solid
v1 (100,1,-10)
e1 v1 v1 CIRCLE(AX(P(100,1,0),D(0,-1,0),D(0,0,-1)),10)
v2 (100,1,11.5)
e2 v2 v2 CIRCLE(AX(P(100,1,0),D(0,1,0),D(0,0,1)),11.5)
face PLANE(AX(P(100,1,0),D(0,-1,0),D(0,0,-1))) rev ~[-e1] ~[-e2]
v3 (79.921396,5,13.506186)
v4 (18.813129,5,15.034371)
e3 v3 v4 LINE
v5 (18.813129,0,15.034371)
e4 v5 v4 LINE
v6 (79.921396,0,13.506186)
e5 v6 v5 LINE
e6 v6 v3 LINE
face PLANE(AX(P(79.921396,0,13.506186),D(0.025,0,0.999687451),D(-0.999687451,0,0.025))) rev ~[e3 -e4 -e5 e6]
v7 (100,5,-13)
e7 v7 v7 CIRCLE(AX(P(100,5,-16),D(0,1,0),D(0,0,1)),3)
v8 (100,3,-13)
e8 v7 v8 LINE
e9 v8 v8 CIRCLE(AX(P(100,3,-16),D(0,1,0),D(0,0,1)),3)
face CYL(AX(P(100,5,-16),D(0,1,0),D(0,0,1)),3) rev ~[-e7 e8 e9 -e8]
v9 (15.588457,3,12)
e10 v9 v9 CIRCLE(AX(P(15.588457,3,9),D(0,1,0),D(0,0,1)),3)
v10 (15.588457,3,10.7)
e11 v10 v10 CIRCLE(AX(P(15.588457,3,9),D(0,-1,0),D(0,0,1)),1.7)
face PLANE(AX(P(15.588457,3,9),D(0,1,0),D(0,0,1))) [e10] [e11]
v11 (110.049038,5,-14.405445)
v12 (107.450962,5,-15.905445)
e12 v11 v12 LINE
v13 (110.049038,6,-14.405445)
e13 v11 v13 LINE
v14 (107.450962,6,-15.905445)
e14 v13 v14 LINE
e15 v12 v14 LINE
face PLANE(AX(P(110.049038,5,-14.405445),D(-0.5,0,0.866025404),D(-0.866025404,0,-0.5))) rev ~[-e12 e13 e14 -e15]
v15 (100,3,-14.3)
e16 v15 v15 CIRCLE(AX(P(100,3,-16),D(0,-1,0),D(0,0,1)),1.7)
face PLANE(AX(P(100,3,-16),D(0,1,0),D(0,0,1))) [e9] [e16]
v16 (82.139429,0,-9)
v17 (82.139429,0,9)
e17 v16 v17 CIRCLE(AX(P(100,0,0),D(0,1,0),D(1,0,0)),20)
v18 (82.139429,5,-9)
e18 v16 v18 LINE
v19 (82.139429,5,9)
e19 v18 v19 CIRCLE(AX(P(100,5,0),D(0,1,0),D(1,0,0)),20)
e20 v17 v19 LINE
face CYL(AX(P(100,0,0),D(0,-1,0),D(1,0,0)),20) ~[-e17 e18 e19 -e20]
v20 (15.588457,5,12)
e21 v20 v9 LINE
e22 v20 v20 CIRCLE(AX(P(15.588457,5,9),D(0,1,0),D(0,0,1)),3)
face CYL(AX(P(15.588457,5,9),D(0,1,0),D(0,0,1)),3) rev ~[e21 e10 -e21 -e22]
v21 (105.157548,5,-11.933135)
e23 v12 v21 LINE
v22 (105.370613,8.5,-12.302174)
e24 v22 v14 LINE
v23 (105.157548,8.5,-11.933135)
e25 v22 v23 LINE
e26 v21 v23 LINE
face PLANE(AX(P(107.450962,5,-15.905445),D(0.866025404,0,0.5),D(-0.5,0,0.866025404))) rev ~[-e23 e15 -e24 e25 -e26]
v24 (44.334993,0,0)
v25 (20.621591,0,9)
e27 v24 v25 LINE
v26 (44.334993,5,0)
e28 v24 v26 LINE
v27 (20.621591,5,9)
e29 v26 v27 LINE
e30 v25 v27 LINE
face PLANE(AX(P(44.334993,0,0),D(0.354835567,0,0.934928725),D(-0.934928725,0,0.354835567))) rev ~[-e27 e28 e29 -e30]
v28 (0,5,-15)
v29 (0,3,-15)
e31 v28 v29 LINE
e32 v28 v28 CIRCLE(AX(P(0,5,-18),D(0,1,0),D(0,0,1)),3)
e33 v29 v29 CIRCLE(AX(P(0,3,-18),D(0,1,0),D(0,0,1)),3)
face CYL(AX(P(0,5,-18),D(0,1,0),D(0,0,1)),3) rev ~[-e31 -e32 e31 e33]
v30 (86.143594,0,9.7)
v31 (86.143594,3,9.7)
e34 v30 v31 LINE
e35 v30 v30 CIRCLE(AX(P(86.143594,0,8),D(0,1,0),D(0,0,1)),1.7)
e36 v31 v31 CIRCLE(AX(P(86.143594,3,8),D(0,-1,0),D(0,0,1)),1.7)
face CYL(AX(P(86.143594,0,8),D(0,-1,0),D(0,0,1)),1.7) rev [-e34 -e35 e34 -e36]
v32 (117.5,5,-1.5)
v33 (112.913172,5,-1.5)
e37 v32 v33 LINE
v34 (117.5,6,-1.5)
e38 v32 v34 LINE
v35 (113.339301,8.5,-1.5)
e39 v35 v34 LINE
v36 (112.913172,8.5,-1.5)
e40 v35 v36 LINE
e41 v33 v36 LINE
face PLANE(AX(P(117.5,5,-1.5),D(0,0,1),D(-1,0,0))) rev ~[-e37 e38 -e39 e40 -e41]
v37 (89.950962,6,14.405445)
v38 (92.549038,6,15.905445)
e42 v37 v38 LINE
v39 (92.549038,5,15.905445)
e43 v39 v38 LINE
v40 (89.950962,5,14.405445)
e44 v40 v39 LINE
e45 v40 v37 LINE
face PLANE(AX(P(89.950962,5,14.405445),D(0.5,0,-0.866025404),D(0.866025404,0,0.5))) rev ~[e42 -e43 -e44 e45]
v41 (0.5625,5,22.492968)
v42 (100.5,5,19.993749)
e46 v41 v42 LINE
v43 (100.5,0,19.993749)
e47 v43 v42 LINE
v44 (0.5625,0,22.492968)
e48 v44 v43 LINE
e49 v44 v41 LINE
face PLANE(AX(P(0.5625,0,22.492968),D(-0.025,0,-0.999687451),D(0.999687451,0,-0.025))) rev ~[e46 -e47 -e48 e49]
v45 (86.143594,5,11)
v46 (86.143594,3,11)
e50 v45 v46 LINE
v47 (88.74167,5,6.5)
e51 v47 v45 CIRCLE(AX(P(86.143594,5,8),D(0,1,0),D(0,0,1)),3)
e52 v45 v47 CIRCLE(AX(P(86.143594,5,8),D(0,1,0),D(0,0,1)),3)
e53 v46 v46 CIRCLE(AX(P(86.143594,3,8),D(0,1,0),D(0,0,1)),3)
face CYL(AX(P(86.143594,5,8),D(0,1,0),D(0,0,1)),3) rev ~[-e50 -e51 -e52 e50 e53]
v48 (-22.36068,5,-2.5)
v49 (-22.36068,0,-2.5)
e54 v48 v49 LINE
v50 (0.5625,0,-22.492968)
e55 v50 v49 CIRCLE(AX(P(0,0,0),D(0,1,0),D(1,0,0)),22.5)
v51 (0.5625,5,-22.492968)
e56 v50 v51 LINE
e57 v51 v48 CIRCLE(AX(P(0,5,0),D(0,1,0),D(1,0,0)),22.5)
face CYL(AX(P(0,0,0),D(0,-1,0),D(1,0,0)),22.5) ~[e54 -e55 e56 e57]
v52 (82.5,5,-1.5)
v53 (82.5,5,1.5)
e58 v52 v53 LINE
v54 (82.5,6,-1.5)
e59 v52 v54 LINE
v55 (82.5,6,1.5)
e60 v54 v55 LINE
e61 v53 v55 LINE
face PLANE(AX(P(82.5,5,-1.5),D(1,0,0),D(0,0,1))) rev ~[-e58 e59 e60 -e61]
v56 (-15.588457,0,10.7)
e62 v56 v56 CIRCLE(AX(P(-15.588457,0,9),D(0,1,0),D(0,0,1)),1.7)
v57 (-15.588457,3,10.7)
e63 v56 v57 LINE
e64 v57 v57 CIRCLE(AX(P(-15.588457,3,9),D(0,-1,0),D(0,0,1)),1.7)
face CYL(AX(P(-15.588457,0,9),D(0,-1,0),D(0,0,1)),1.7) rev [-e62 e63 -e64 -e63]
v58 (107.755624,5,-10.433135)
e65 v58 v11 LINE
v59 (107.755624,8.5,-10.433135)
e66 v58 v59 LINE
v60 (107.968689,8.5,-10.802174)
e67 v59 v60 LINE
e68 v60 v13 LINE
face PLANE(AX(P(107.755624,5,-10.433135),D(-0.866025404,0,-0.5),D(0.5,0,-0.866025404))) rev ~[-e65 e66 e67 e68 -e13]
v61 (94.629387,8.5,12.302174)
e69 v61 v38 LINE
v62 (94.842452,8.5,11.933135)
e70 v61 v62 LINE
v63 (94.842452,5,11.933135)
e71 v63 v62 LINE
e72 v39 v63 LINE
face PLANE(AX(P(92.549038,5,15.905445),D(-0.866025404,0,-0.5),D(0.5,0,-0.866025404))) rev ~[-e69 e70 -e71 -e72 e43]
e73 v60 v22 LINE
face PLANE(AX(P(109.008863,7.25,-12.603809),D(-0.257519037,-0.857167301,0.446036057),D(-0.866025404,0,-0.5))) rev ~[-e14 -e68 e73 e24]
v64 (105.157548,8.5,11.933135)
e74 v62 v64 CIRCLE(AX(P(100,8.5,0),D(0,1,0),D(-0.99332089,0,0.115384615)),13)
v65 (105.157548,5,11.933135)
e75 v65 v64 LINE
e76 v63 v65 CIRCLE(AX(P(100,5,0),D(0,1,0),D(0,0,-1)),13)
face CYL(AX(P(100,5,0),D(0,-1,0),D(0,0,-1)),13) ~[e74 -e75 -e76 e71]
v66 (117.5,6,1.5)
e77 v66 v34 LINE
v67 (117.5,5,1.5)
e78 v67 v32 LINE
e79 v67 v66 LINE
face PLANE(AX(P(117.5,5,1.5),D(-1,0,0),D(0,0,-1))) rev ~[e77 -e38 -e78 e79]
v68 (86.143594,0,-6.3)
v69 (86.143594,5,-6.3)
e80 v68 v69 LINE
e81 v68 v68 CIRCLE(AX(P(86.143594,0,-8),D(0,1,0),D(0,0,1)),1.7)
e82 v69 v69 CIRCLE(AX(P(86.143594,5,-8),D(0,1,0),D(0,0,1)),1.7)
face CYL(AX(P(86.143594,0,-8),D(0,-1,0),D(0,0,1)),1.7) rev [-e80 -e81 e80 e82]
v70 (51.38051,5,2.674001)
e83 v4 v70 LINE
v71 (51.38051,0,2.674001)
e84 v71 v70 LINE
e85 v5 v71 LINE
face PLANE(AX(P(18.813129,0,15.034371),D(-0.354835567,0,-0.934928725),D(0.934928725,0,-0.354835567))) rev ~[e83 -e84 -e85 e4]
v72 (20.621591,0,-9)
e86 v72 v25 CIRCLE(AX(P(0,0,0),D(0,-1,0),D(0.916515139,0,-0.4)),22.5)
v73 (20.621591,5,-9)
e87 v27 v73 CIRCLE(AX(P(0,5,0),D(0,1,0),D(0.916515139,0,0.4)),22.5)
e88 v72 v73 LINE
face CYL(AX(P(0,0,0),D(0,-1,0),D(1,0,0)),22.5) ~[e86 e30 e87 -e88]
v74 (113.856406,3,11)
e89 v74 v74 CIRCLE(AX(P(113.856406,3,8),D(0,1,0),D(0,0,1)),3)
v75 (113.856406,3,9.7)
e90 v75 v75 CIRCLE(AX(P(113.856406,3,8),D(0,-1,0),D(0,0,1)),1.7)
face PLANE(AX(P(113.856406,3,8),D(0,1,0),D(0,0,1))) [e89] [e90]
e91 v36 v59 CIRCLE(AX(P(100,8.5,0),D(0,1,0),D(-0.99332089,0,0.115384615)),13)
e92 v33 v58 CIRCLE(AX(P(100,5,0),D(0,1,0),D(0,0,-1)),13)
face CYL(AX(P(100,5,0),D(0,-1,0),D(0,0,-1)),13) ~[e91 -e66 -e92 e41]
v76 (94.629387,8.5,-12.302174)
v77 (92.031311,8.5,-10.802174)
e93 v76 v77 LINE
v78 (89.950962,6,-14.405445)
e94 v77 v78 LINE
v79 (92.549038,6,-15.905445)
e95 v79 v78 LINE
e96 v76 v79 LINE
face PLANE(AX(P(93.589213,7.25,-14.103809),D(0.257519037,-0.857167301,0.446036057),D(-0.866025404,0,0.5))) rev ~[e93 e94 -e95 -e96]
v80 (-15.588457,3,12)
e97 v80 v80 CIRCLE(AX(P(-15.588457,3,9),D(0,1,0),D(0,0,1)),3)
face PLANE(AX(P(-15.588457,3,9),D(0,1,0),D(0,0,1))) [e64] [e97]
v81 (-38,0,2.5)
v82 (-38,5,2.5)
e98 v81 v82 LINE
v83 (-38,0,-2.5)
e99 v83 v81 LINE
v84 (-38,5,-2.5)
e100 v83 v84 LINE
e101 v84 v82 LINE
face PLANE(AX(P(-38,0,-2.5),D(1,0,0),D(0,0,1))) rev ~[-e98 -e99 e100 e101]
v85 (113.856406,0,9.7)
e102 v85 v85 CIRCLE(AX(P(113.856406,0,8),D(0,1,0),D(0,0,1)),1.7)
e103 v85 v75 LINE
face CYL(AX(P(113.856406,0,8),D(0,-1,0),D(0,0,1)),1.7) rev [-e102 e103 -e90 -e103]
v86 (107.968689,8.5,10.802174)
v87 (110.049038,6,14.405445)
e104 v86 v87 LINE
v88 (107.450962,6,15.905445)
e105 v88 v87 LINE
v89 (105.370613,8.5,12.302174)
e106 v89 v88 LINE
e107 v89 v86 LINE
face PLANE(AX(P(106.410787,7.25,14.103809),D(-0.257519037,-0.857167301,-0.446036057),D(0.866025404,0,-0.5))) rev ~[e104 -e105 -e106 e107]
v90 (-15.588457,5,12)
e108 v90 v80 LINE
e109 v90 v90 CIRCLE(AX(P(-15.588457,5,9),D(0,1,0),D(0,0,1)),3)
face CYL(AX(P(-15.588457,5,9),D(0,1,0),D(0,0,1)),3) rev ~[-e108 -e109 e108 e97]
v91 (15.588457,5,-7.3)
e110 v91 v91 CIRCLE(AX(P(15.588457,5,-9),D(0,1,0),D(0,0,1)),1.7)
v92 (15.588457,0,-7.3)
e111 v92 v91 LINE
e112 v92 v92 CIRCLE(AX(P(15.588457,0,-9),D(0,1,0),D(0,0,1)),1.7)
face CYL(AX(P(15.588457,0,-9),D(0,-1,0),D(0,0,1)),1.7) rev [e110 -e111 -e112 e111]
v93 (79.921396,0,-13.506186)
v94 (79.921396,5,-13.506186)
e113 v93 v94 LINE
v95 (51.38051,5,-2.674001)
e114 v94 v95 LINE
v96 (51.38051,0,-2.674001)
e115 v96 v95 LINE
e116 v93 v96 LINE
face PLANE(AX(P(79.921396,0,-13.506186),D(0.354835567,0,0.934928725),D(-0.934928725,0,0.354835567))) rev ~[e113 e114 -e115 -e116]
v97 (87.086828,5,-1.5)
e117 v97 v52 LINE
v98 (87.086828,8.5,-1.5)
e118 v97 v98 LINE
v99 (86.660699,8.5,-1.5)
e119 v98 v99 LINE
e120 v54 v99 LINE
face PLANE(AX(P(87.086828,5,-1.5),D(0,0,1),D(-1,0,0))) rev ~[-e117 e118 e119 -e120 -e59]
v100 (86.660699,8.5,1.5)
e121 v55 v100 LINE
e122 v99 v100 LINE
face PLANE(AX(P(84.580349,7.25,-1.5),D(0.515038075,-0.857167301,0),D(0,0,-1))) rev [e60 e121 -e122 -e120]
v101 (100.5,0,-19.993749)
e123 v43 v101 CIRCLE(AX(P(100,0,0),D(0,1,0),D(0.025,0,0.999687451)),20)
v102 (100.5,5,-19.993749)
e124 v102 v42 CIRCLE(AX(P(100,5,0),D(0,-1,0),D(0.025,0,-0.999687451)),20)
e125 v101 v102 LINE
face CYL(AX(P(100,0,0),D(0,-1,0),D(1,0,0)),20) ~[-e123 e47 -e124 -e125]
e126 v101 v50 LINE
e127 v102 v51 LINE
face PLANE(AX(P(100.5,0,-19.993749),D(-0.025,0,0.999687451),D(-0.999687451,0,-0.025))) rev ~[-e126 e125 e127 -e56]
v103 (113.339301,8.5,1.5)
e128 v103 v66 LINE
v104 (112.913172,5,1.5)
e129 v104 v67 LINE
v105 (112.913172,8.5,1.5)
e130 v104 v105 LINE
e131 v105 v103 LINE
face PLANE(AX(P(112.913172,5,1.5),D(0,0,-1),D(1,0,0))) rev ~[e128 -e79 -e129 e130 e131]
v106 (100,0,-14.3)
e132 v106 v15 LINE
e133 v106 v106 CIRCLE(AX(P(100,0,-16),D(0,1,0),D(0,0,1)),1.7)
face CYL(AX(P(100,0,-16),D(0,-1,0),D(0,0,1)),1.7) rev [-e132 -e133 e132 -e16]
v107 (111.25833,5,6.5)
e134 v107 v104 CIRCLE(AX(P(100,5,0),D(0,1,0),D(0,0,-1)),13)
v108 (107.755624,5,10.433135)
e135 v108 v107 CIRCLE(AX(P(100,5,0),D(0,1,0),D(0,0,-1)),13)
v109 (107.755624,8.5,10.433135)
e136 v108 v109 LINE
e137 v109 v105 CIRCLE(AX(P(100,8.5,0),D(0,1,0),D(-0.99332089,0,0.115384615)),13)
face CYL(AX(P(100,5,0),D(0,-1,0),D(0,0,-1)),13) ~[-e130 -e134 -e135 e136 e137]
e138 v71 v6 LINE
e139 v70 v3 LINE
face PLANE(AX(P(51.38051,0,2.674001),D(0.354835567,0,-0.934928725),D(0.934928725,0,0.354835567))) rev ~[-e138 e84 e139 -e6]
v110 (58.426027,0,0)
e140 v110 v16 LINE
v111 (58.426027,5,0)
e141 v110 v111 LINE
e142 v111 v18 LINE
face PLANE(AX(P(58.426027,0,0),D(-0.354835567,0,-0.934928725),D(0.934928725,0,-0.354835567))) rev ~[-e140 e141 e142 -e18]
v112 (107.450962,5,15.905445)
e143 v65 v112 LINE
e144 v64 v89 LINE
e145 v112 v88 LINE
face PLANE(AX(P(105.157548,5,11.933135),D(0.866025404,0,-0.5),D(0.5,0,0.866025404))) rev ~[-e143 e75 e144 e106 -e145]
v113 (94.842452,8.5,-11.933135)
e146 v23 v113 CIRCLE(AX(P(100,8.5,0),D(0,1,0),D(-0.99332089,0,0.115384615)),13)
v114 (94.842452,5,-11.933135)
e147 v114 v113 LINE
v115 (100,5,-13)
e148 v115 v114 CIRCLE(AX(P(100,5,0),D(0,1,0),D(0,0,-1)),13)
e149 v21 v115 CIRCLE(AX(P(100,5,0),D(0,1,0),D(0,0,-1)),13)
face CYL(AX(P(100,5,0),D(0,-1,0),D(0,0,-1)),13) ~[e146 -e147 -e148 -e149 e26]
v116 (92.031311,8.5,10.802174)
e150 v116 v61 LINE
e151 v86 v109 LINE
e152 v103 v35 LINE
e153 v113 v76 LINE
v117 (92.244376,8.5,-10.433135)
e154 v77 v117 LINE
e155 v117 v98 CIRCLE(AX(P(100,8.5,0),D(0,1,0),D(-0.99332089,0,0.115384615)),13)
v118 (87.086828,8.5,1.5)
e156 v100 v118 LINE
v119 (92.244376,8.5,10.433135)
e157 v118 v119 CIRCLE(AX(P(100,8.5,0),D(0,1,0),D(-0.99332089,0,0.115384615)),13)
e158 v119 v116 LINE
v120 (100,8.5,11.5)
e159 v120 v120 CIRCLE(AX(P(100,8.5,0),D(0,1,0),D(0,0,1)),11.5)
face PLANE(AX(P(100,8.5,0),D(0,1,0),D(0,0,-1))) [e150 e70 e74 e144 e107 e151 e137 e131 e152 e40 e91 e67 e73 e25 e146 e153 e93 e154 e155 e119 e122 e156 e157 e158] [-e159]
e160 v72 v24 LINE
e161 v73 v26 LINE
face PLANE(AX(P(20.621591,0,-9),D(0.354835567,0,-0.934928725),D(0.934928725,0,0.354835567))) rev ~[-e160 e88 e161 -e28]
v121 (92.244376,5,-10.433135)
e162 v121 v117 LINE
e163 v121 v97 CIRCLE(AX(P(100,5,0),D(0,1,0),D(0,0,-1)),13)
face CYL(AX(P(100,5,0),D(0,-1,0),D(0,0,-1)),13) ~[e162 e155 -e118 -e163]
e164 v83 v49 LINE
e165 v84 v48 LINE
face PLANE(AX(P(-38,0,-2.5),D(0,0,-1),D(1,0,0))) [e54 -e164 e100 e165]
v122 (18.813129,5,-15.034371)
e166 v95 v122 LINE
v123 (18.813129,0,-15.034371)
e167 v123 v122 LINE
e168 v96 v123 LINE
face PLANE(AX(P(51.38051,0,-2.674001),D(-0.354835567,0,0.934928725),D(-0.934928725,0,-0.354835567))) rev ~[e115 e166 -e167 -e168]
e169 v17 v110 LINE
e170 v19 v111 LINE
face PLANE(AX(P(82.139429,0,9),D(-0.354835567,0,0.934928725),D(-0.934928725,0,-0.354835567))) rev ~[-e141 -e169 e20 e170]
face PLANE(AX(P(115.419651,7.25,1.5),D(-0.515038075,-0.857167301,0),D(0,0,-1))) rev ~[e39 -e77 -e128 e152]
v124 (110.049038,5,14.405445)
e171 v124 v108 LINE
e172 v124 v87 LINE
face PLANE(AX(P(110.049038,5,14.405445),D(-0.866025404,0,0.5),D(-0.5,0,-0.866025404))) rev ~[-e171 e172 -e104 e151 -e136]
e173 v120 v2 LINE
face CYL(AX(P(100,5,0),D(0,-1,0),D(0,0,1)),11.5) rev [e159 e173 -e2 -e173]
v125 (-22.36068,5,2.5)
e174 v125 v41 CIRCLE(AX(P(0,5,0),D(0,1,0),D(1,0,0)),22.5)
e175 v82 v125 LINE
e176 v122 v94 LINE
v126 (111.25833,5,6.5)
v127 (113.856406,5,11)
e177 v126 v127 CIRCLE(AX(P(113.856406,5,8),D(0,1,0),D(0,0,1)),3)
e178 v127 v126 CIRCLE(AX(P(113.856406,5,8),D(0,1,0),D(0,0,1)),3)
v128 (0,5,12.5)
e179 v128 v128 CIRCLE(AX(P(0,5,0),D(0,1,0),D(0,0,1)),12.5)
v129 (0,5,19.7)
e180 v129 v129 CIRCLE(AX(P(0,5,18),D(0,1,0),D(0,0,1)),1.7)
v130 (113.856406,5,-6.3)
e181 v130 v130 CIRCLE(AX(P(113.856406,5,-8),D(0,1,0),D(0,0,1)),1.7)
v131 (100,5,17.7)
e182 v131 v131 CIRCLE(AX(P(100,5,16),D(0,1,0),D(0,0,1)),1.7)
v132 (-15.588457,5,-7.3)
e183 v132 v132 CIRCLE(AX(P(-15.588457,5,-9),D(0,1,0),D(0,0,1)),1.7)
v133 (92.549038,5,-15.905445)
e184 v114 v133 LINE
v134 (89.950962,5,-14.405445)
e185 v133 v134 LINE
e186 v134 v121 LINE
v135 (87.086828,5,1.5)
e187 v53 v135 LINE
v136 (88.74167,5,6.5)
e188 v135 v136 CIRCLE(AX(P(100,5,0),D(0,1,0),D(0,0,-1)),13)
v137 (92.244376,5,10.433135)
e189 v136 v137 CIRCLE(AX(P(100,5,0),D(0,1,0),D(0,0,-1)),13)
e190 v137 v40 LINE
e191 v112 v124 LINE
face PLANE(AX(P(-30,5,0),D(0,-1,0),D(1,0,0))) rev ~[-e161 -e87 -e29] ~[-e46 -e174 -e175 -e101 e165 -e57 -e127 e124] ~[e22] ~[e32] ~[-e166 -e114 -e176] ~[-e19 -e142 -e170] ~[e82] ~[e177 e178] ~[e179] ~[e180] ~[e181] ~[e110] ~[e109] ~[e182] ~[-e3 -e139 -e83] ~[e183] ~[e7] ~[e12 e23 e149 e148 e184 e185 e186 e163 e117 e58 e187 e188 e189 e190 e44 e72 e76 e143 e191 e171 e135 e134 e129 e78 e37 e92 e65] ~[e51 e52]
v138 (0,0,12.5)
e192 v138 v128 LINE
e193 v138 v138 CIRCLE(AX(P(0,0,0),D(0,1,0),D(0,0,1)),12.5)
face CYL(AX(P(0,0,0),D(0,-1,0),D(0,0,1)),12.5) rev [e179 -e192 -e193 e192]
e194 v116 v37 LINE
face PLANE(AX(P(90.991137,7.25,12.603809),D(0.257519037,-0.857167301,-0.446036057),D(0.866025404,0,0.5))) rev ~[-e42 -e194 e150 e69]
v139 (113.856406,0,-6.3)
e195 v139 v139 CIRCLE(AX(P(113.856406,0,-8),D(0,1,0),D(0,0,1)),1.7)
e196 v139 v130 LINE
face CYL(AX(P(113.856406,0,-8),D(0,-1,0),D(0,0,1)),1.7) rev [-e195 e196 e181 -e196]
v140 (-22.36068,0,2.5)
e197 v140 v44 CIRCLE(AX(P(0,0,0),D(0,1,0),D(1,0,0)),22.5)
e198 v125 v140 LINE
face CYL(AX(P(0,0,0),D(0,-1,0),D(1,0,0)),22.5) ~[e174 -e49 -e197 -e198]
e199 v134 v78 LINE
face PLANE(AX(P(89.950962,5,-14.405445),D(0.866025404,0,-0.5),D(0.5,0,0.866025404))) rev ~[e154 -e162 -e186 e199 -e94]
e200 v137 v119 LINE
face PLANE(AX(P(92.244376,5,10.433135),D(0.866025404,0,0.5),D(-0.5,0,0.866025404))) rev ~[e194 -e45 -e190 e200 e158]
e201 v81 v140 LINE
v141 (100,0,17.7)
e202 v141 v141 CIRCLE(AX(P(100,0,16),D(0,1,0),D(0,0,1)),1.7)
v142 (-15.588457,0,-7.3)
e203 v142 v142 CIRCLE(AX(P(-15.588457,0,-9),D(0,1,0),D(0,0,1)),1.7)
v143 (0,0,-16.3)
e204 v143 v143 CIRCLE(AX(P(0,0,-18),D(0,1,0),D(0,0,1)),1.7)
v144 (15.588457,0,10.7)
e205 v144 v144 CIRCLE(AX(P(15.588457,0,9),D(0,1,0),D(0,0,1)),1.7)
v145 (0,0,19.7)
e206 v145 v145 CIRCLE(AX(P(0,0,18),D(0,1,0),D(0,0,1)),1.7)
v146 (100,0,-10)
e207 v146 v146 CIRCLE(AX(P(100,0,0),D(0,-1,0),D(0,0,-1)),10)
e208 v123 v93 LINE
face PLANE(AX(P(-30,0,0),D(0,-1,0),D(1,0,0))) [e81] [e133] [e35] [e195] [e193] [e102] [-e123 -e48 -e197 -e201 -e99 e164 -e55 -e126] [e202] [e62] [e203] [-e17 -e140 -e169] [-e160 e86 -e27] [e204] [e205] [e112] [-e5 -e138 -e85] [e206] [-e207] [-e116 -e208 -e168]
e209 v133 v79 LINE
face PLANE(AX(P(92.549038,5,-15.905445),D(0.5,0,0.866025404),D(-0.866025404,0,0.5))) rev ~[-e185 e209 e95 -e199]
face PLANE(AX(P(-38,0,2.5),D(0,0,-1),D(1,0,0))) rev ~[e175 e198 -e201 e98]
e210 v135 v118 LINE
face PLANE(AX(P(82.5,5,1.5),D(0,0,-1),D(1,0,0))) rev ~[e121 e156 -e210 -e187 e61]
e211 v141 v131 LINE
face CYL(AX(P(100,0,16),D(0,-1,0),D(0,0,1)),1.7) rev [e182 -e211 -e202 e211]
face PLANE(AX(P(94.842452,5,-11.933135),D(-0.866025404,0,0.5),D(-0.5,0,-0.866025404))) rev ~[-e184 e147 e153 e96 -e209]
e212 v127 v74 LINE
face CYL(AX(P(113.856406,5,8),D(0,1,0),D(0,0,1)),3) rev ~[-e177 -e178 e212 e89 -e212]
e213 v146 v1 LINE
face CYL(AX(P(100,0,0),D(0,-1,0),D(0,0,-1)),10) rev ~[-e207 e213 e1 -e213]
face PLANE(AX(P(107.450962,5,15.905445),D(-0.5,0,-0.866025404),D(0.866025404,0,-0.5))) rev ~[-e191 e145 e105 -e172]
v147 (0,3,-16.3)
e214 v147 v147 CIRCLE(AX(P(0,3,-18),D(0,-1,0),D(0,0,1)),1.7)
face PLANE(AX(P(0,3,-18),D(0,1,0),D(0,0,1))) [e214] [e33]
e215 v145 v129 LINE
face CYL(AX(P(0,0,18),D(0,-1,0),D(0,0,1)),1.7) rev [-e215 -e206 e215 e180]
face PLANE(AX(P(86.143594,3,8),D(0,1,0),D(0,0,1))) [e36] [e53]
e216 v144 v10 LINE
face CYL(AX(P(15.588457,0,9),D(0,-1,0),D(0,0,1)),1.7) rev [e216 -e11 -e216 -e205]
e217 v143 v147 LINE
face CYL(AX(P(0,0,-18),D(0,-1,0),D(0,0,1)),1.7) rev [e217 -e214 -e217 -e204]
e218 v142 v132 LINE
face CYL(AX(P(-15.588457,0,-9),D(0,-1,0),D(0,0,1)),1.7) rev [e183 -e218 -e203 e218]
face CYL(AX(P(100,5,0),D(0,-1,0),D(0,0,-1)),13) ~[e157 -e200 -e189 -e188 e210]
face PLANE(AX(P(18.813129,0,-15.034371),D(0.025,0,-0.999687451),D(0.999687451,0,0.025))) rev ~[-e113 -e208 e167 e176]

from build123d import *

# Parameters (mm, degrees)
SKETCH1_R                     = 22.5
SKETCH1_R_2                   = 12.5
SKETCH1_R_3                   = 1.7
SKETCH1_R_4                   = 20
SKETCH1_R_5                   = 11.5
BOSS_EXTRUDE1_DEPTH           = 5
SKETCH2_R                     = 3
CUT_EXTRUDE1_DEPTH            = 2
SKETCH3_R                     = 13
SKETCH3_R_2                   = 11.5
BOSS_EXTRUDE2_DEPTH           = 3.5
SKETCH4_R                     = 11.5
SKETCH4_R_2                   = 10
BOSS_EXTRUDE3_DEPTH           = 1
BOSS_EXTRUDE4_DEPTH           = 3.5
CHAMFER1_SIZE                 = 2.5
CHAMFER1_SIZE2                = 4.160698706
CIRPATTERN1_COUNT             = 6
CHAMFER1_OF_CIRPATTERN1_SIZE2 = 2.5
CHAMFER1_OF_CIRPATTERN1_SIZE  = 4.160698706
SKETCH7_W                     = 16
SKETCH7_H                     = 5
BOSS_EXTRUDE5_DEPTH           = 5


with BuildPart() as part:
    # Sketch1 → Boss-Extrude1 (new body)
    # profile 1 of 9: a face of its own
    with BuildSketch(Plane(origin=(0, 0, 0), x_dir=(1, 0, 0), z_dir=(0, 1, 0))):
        Circle(SKETCH1_R)
        with Locations(Location((0, 0, 0), (0, 0, 270))):
            Circle(SKETCH1_R_2, mode=Mode.SUBTRACT)
        with Locations(Location((-15.588457268, 9, 0), (0, 0, 270))):
            Circle(SKETCH1_R_3, mode=Mode.SUBTRACT)
        with Locations(Location((-15.588457268, -9, 0), (0, 0, 270))):
            Circle(SKETCH1_R_3, mode=Mode.SUBTRACT)
        with Locations(Location((0, -18, 0), (0, 0, 270))):
            Circle(SKETCH1_R_3, mode=Mode.SUBTRACT)
        with Locations(Location((15.588457268, -9, 0), (0, 0, 270))):
            Circle(SKETCH1_R_3, mode=Mode.SUBTRACT)
        with Locations(Location((15.588457268, 9, 0), (0, 0, 270))):
            Circle(SKETCH1_R_3, mode=Mode.SUBTRACT)
        with Locations(Location((0, 18, 0), (0, 0, 270))):
            Circle(SKETCH1_R_3, mode=Mode.SUBTRACT)
    # profile 2 of 9: a face of its own
    with BuildSketch(Plane(origin=(0, 0, 0), x_dir=(1, 0, 0), z_dir=(0, 1, 0))):
        with BuildLine():
            Line((100.5, 19.993749023), (0.5625, 22.492967651))
            ThreePointArc((0.5625, 22.492967651), (9.388247907, 20.447757854), (16.691908913, 15.087417832))
            Line((16.691908913, 15.087417832), (18.813128873, 15.034370753))
            Line((18.813128873, 15.034370753), (79.921396282, 13.506186436))
            Line((79.921396282, 13.506186436), (85.131066178, 13.375903969))
            ThreePointArc((85.131066178, 13.375903969), (92.090162259, 18.3693894), (100.5, 19.993749023))
        make_face()
    # profile 3 of 9: a face of its own
    with BuildSketch(Plane(origin=(0, 0, 0), x_dir=(1, 0, 0), z_dir=(0, 1, 0))):
        with BuildLine():
            Line((18.813128873, 15.034370753), (16.691908913, 15.087417832))
            ThreePointArc((16.691908913, 15.087417832), (18.903398529, 12.202930961), (20.621590627, 9))
            Line((20.621590627, 9), (44.334992825, 0))
            Line((44.334992825, 0), (51.380509764, 2.674000631))
            Line((51.380509764, 2.674000631), (18.813128873, 15.034370753))
        make_face()
    # profile 4 of 9: a face of its own
    with BuildSketch(Plane(origin=(0, 0, 0), x_dir=(1, 0, 0), z_dir=(0, 1, 0))):
        Polygon((58.426026703, 0), (51.380509764, 2.674000631), (44.334992825, 0), (51.380509764, -2.674000631), align=None)
    # profile 5 of 9: a face of its own
    with BuildSketch(Plane(origin=(0, 0, 0), x_dir=(1, 0, 0), z_dir=(0, 1, 0))):
        with BuildLine():
            ThreePointArc((82.139428901, 9), (83.489631833, 11.287503843), (85.131066178, 13.375903969))
            Line((85.131066178, 13.375903969), (79.921396282, 13.506186436))
            Line((79.921396282, 13.506186436), (51.380509764, 2.674000631))
            Line((51.380509764, 2.674000631), (58.426026703, 0))
            Line((58.426026703, 0), (82.139428901, 9))
        make_face()
    # profile 6 of 9: a face of its own
    with BuildSketch(Plane(origin=(0, 0, 0), x_dir=(1, 0, 0), z_dir=(0, 1, 0))):
        with BuildLine():
            Line((79.921396282, -13.506186436), (85.131066178, -13.375903969))
            ThreePointArc((85.131066178, -13.375903969), (83.489631833, -11.287503843), (82.139428901, -9))
            Line((82.139428901, -9), (58.426026703, 0))
            Line((58.426026703, 0), (51.380509764, -2.674000631))
            Line((51.380509764, -2.674000631), (79.921396282, -13.506186436))
        make_face()
    # profile 7 of 9: a face of its own
    with BuildSketch(Plane(origin=(0, 0, 0), x_dir=(1, 0, 0), z_dir=(0, 1, 0))):
        with BuildLine():
            ThreePointArc((20.621590627, -9), (18.903398529, -12.202930961), (16.691908913, -15.087417832))
            Line((16.691908913, -15.087417832), (18.813128873, -15.034370753))
            Line((18.813128873, -15.034370753), (51.380509764, -2.674000631))
            Line((51.380509764, -2.674000631), (44.334992825, 0))
            Line((44.334992825, 0), (20.621590627, -9))
        make_face()
    # profile 8 of 9: a face of its own
    with BuildSketch(Plane(origin=(0, 0, 0), x_dir=(1, 0, 0), z_dir=(0, 1, 0))):
        with BuildLine():
            ThreePointArc((16.691908913, -15.087417832), (9.388247907, -20.447757854), (0.5625, -22.492967651))
            Line((0.5625, -22.492967651), (100.5, -19.993749023))
            ThreePointArc((100.5, -19.993749023), (92.090162259, -18.3693894), (85.131066178, -13.375903969))
            Line((85.131066178, -13.375903969), (79.921396282, -13.506186436))
            Line((79.921396282, -13.506186436), (18.813128873, -15.034370753))
            Line((18.813128873, -15.034370753), (16.691908913, -15.087417832))
        make_face()
    # profile 9 of 9: a face of its own
    with BuildSketch(Plane(origin=(0, 0, 0), x_dir=(1, 0, 0), z_dir=(0, 1, 0))):
        with Locations((100, 0)):
            Circle(SKETCH1_R_4)
        with Locations(Location((86.143593539, 8, 0), (0, 0, 270))):
            Circle(SKETCH1_R_3, mode=Mode.SUBTRACT)
        with Locations(Location((86.143593539, -8, 0), (0, 0, 270))):
            Circle(SKETCH1_R_3, mode=Mode.SUBTRACT)
        with Locations(Location((100, -16, 0), (0, 0, 270))):
            Circle(SKETCH1_R_3, mode=Mode.SUBTRACT)
        with Locations(Location((113.856406461, -8, 0), (0, 0, 270))):
            Circle(SKETCH1_R_3, mode=Mode.SUBTRACT)
        with Locations(Location((113.856406461, 8, 0), (0, 0, 270))):
            Circle(SKETCH1_R_3, mode=Mode.SUBTRACT)
        with Locations(Location((100, 16, 0), (0, 0, 270))):
            Circle(SKETCH1_R_3, mode=Mode.SUBTRACT)
        with Locations(Location((100, 0, 0), (0, 0, 270))):
            Circle(SKETCH1_R_5, mode=Mode.SUBTRACT)
    extrude(amount=BOSS_EXTRUDE1_DEPTH)

    # Sketch2 → Cut-Extrude1 (cut)
    with BuildSketch(Plane(origin=(0, 5, 0), x_dir=(1, 0, 0), z_dir=(0, 1, 0))):
        with Locations(Location((0, 18, 0), (0, 0, 270))):
            Circle(SKETCH2_R)
        with Locations(Location((-15.588457268, -9, 0), (0, 0, 270))):
            Circle(SKETCH2_R)
        with Locations(Location((15.588457268, -9, 0), (0, 0, 270))):
            Circle(SKETCH2_R)
        with Locations(Location((100, 16, 0), (0, 0, 270))):
            Circle(SKETCH2_R)
        with Locations(Location((86.143593539, -8, 0), (0, 0, 270))):
            Circle(SKETCH2_R)
        with Locations(Location((113.856406461, -8, 0), (0, 0, 270))):
            Circle(SKETCH2_R)
    extrude(amount=-CUT_EXTRUDE1_DEPTH, mode=Mode.SUBTRACT)

    # Sketch3 → Boss-Extrude2 (add)
    with BuildSketch(Plane(origin=(0, 5, 0), x_dir=(1, 0, 0), z_dir=(0, 1, 0))):
        with Locations(Location((100, 0, 0), (0, 0, 90))):
            Circle(SKETCH3_R)
        with Locations(Location((100, 0, 0), (0, 0, 270))):
            Circle(SKETCH3_R_2, mode=Mode.SUBTRACT)
    extrude(amount=BOSS_EXTRUDE2_DEPTH)

    # Sketch4 → Boss-Extrude3 (add)
    with BuildSketch(Plane.XZ):
        with Locations(Location((100, 0, 0), (0, 0, 270))):
            Circle(SKETCH4_R)
        with Locations(Location((100, 0, 0), (0, 0, 270))):
            Circle(SKETCH4_R_2, mode=Mode.SUBTRACT)
    extrude(amount=-BOSS_EXTRUDE3_DEPTH)

    # Sketch6 → Boss-Extrude4 (add)
    with BuildSketch(Plane(origin=(0, 5, 0), x_dir=(1, 0, 0), z_dir=(0, 1, 0))):
        with BuildLine():
            Line((87.08682843, 1.5), (82.5, 1.5))
            Line((82.5, 1.5), (82.5, -1.5))
            Line((82.5, -1.5), (87.08682843, -1.5))
            ThreePointArc((87.08682843, -1.5), (87, 0), (87.08682843, 1.5))
        make_face()
    boss_extrude4 = extrude(amount=BOSS_EXTRUDE4_DEPTH)

    # Chamfer1
    chamfer1_edges = [part.edges().sort_by_distance(p)[0] for p in [
        (82.5, 8.5, 0),
    ]]
    chamfer1_side = [part.faces().sort_by_distance(p)[0] for p in [
        (82.5, 6.75, 0),
    ]]
    chamfer(chamfer1_edges, length=CHAMFER1_SIZE, length2=CHAMFER1_SIZE2, reference=chamfer1_side[0])

    # CirPattern1: Boss-Extrude4 ×6 about axis
    cirpattern1_axis = Axis((100, 0, 0), (0, 1, 0))
    for i in range(1, CIRPATTERN1_COUNT):
        add(boss_extrude4.rotate(cirpattern1_axis, i * 360 / CIRPATTERN1_COUNT))

    # Chamfer1 of CirPattern1
    chamfer1_of_cirpattern1_edges = [part.edges().sort_by_distance(p)[0] for p in [
        (91.25, 8.5, 15.155444566),
        (108.75, 8.5, 15.155444566),
        (117.5, 8.5, 0),
        (108.75, 8.5, -15.155444566),
        (91.25, 8.5, -15.155444566),
    ]]
    chamfer(chamfer1_of_cirpattern1_edges, length=CHAMFER1_OF_CIRPATTERN1_SIZE, length2=CHAMFER1_OF_CIRPATTERN1_SIZE2)

    # Sketch7 → Boss-Extrude5 (add)
    with BuildSketch(Plane.XZ):
        with Locations((-30, 0)):
            Rectangle(SKETCH7_W, SKETCH7_H)
    extrude(amount=-BOSS_EXTRUDE5_DEPTH)


solid = part.part
